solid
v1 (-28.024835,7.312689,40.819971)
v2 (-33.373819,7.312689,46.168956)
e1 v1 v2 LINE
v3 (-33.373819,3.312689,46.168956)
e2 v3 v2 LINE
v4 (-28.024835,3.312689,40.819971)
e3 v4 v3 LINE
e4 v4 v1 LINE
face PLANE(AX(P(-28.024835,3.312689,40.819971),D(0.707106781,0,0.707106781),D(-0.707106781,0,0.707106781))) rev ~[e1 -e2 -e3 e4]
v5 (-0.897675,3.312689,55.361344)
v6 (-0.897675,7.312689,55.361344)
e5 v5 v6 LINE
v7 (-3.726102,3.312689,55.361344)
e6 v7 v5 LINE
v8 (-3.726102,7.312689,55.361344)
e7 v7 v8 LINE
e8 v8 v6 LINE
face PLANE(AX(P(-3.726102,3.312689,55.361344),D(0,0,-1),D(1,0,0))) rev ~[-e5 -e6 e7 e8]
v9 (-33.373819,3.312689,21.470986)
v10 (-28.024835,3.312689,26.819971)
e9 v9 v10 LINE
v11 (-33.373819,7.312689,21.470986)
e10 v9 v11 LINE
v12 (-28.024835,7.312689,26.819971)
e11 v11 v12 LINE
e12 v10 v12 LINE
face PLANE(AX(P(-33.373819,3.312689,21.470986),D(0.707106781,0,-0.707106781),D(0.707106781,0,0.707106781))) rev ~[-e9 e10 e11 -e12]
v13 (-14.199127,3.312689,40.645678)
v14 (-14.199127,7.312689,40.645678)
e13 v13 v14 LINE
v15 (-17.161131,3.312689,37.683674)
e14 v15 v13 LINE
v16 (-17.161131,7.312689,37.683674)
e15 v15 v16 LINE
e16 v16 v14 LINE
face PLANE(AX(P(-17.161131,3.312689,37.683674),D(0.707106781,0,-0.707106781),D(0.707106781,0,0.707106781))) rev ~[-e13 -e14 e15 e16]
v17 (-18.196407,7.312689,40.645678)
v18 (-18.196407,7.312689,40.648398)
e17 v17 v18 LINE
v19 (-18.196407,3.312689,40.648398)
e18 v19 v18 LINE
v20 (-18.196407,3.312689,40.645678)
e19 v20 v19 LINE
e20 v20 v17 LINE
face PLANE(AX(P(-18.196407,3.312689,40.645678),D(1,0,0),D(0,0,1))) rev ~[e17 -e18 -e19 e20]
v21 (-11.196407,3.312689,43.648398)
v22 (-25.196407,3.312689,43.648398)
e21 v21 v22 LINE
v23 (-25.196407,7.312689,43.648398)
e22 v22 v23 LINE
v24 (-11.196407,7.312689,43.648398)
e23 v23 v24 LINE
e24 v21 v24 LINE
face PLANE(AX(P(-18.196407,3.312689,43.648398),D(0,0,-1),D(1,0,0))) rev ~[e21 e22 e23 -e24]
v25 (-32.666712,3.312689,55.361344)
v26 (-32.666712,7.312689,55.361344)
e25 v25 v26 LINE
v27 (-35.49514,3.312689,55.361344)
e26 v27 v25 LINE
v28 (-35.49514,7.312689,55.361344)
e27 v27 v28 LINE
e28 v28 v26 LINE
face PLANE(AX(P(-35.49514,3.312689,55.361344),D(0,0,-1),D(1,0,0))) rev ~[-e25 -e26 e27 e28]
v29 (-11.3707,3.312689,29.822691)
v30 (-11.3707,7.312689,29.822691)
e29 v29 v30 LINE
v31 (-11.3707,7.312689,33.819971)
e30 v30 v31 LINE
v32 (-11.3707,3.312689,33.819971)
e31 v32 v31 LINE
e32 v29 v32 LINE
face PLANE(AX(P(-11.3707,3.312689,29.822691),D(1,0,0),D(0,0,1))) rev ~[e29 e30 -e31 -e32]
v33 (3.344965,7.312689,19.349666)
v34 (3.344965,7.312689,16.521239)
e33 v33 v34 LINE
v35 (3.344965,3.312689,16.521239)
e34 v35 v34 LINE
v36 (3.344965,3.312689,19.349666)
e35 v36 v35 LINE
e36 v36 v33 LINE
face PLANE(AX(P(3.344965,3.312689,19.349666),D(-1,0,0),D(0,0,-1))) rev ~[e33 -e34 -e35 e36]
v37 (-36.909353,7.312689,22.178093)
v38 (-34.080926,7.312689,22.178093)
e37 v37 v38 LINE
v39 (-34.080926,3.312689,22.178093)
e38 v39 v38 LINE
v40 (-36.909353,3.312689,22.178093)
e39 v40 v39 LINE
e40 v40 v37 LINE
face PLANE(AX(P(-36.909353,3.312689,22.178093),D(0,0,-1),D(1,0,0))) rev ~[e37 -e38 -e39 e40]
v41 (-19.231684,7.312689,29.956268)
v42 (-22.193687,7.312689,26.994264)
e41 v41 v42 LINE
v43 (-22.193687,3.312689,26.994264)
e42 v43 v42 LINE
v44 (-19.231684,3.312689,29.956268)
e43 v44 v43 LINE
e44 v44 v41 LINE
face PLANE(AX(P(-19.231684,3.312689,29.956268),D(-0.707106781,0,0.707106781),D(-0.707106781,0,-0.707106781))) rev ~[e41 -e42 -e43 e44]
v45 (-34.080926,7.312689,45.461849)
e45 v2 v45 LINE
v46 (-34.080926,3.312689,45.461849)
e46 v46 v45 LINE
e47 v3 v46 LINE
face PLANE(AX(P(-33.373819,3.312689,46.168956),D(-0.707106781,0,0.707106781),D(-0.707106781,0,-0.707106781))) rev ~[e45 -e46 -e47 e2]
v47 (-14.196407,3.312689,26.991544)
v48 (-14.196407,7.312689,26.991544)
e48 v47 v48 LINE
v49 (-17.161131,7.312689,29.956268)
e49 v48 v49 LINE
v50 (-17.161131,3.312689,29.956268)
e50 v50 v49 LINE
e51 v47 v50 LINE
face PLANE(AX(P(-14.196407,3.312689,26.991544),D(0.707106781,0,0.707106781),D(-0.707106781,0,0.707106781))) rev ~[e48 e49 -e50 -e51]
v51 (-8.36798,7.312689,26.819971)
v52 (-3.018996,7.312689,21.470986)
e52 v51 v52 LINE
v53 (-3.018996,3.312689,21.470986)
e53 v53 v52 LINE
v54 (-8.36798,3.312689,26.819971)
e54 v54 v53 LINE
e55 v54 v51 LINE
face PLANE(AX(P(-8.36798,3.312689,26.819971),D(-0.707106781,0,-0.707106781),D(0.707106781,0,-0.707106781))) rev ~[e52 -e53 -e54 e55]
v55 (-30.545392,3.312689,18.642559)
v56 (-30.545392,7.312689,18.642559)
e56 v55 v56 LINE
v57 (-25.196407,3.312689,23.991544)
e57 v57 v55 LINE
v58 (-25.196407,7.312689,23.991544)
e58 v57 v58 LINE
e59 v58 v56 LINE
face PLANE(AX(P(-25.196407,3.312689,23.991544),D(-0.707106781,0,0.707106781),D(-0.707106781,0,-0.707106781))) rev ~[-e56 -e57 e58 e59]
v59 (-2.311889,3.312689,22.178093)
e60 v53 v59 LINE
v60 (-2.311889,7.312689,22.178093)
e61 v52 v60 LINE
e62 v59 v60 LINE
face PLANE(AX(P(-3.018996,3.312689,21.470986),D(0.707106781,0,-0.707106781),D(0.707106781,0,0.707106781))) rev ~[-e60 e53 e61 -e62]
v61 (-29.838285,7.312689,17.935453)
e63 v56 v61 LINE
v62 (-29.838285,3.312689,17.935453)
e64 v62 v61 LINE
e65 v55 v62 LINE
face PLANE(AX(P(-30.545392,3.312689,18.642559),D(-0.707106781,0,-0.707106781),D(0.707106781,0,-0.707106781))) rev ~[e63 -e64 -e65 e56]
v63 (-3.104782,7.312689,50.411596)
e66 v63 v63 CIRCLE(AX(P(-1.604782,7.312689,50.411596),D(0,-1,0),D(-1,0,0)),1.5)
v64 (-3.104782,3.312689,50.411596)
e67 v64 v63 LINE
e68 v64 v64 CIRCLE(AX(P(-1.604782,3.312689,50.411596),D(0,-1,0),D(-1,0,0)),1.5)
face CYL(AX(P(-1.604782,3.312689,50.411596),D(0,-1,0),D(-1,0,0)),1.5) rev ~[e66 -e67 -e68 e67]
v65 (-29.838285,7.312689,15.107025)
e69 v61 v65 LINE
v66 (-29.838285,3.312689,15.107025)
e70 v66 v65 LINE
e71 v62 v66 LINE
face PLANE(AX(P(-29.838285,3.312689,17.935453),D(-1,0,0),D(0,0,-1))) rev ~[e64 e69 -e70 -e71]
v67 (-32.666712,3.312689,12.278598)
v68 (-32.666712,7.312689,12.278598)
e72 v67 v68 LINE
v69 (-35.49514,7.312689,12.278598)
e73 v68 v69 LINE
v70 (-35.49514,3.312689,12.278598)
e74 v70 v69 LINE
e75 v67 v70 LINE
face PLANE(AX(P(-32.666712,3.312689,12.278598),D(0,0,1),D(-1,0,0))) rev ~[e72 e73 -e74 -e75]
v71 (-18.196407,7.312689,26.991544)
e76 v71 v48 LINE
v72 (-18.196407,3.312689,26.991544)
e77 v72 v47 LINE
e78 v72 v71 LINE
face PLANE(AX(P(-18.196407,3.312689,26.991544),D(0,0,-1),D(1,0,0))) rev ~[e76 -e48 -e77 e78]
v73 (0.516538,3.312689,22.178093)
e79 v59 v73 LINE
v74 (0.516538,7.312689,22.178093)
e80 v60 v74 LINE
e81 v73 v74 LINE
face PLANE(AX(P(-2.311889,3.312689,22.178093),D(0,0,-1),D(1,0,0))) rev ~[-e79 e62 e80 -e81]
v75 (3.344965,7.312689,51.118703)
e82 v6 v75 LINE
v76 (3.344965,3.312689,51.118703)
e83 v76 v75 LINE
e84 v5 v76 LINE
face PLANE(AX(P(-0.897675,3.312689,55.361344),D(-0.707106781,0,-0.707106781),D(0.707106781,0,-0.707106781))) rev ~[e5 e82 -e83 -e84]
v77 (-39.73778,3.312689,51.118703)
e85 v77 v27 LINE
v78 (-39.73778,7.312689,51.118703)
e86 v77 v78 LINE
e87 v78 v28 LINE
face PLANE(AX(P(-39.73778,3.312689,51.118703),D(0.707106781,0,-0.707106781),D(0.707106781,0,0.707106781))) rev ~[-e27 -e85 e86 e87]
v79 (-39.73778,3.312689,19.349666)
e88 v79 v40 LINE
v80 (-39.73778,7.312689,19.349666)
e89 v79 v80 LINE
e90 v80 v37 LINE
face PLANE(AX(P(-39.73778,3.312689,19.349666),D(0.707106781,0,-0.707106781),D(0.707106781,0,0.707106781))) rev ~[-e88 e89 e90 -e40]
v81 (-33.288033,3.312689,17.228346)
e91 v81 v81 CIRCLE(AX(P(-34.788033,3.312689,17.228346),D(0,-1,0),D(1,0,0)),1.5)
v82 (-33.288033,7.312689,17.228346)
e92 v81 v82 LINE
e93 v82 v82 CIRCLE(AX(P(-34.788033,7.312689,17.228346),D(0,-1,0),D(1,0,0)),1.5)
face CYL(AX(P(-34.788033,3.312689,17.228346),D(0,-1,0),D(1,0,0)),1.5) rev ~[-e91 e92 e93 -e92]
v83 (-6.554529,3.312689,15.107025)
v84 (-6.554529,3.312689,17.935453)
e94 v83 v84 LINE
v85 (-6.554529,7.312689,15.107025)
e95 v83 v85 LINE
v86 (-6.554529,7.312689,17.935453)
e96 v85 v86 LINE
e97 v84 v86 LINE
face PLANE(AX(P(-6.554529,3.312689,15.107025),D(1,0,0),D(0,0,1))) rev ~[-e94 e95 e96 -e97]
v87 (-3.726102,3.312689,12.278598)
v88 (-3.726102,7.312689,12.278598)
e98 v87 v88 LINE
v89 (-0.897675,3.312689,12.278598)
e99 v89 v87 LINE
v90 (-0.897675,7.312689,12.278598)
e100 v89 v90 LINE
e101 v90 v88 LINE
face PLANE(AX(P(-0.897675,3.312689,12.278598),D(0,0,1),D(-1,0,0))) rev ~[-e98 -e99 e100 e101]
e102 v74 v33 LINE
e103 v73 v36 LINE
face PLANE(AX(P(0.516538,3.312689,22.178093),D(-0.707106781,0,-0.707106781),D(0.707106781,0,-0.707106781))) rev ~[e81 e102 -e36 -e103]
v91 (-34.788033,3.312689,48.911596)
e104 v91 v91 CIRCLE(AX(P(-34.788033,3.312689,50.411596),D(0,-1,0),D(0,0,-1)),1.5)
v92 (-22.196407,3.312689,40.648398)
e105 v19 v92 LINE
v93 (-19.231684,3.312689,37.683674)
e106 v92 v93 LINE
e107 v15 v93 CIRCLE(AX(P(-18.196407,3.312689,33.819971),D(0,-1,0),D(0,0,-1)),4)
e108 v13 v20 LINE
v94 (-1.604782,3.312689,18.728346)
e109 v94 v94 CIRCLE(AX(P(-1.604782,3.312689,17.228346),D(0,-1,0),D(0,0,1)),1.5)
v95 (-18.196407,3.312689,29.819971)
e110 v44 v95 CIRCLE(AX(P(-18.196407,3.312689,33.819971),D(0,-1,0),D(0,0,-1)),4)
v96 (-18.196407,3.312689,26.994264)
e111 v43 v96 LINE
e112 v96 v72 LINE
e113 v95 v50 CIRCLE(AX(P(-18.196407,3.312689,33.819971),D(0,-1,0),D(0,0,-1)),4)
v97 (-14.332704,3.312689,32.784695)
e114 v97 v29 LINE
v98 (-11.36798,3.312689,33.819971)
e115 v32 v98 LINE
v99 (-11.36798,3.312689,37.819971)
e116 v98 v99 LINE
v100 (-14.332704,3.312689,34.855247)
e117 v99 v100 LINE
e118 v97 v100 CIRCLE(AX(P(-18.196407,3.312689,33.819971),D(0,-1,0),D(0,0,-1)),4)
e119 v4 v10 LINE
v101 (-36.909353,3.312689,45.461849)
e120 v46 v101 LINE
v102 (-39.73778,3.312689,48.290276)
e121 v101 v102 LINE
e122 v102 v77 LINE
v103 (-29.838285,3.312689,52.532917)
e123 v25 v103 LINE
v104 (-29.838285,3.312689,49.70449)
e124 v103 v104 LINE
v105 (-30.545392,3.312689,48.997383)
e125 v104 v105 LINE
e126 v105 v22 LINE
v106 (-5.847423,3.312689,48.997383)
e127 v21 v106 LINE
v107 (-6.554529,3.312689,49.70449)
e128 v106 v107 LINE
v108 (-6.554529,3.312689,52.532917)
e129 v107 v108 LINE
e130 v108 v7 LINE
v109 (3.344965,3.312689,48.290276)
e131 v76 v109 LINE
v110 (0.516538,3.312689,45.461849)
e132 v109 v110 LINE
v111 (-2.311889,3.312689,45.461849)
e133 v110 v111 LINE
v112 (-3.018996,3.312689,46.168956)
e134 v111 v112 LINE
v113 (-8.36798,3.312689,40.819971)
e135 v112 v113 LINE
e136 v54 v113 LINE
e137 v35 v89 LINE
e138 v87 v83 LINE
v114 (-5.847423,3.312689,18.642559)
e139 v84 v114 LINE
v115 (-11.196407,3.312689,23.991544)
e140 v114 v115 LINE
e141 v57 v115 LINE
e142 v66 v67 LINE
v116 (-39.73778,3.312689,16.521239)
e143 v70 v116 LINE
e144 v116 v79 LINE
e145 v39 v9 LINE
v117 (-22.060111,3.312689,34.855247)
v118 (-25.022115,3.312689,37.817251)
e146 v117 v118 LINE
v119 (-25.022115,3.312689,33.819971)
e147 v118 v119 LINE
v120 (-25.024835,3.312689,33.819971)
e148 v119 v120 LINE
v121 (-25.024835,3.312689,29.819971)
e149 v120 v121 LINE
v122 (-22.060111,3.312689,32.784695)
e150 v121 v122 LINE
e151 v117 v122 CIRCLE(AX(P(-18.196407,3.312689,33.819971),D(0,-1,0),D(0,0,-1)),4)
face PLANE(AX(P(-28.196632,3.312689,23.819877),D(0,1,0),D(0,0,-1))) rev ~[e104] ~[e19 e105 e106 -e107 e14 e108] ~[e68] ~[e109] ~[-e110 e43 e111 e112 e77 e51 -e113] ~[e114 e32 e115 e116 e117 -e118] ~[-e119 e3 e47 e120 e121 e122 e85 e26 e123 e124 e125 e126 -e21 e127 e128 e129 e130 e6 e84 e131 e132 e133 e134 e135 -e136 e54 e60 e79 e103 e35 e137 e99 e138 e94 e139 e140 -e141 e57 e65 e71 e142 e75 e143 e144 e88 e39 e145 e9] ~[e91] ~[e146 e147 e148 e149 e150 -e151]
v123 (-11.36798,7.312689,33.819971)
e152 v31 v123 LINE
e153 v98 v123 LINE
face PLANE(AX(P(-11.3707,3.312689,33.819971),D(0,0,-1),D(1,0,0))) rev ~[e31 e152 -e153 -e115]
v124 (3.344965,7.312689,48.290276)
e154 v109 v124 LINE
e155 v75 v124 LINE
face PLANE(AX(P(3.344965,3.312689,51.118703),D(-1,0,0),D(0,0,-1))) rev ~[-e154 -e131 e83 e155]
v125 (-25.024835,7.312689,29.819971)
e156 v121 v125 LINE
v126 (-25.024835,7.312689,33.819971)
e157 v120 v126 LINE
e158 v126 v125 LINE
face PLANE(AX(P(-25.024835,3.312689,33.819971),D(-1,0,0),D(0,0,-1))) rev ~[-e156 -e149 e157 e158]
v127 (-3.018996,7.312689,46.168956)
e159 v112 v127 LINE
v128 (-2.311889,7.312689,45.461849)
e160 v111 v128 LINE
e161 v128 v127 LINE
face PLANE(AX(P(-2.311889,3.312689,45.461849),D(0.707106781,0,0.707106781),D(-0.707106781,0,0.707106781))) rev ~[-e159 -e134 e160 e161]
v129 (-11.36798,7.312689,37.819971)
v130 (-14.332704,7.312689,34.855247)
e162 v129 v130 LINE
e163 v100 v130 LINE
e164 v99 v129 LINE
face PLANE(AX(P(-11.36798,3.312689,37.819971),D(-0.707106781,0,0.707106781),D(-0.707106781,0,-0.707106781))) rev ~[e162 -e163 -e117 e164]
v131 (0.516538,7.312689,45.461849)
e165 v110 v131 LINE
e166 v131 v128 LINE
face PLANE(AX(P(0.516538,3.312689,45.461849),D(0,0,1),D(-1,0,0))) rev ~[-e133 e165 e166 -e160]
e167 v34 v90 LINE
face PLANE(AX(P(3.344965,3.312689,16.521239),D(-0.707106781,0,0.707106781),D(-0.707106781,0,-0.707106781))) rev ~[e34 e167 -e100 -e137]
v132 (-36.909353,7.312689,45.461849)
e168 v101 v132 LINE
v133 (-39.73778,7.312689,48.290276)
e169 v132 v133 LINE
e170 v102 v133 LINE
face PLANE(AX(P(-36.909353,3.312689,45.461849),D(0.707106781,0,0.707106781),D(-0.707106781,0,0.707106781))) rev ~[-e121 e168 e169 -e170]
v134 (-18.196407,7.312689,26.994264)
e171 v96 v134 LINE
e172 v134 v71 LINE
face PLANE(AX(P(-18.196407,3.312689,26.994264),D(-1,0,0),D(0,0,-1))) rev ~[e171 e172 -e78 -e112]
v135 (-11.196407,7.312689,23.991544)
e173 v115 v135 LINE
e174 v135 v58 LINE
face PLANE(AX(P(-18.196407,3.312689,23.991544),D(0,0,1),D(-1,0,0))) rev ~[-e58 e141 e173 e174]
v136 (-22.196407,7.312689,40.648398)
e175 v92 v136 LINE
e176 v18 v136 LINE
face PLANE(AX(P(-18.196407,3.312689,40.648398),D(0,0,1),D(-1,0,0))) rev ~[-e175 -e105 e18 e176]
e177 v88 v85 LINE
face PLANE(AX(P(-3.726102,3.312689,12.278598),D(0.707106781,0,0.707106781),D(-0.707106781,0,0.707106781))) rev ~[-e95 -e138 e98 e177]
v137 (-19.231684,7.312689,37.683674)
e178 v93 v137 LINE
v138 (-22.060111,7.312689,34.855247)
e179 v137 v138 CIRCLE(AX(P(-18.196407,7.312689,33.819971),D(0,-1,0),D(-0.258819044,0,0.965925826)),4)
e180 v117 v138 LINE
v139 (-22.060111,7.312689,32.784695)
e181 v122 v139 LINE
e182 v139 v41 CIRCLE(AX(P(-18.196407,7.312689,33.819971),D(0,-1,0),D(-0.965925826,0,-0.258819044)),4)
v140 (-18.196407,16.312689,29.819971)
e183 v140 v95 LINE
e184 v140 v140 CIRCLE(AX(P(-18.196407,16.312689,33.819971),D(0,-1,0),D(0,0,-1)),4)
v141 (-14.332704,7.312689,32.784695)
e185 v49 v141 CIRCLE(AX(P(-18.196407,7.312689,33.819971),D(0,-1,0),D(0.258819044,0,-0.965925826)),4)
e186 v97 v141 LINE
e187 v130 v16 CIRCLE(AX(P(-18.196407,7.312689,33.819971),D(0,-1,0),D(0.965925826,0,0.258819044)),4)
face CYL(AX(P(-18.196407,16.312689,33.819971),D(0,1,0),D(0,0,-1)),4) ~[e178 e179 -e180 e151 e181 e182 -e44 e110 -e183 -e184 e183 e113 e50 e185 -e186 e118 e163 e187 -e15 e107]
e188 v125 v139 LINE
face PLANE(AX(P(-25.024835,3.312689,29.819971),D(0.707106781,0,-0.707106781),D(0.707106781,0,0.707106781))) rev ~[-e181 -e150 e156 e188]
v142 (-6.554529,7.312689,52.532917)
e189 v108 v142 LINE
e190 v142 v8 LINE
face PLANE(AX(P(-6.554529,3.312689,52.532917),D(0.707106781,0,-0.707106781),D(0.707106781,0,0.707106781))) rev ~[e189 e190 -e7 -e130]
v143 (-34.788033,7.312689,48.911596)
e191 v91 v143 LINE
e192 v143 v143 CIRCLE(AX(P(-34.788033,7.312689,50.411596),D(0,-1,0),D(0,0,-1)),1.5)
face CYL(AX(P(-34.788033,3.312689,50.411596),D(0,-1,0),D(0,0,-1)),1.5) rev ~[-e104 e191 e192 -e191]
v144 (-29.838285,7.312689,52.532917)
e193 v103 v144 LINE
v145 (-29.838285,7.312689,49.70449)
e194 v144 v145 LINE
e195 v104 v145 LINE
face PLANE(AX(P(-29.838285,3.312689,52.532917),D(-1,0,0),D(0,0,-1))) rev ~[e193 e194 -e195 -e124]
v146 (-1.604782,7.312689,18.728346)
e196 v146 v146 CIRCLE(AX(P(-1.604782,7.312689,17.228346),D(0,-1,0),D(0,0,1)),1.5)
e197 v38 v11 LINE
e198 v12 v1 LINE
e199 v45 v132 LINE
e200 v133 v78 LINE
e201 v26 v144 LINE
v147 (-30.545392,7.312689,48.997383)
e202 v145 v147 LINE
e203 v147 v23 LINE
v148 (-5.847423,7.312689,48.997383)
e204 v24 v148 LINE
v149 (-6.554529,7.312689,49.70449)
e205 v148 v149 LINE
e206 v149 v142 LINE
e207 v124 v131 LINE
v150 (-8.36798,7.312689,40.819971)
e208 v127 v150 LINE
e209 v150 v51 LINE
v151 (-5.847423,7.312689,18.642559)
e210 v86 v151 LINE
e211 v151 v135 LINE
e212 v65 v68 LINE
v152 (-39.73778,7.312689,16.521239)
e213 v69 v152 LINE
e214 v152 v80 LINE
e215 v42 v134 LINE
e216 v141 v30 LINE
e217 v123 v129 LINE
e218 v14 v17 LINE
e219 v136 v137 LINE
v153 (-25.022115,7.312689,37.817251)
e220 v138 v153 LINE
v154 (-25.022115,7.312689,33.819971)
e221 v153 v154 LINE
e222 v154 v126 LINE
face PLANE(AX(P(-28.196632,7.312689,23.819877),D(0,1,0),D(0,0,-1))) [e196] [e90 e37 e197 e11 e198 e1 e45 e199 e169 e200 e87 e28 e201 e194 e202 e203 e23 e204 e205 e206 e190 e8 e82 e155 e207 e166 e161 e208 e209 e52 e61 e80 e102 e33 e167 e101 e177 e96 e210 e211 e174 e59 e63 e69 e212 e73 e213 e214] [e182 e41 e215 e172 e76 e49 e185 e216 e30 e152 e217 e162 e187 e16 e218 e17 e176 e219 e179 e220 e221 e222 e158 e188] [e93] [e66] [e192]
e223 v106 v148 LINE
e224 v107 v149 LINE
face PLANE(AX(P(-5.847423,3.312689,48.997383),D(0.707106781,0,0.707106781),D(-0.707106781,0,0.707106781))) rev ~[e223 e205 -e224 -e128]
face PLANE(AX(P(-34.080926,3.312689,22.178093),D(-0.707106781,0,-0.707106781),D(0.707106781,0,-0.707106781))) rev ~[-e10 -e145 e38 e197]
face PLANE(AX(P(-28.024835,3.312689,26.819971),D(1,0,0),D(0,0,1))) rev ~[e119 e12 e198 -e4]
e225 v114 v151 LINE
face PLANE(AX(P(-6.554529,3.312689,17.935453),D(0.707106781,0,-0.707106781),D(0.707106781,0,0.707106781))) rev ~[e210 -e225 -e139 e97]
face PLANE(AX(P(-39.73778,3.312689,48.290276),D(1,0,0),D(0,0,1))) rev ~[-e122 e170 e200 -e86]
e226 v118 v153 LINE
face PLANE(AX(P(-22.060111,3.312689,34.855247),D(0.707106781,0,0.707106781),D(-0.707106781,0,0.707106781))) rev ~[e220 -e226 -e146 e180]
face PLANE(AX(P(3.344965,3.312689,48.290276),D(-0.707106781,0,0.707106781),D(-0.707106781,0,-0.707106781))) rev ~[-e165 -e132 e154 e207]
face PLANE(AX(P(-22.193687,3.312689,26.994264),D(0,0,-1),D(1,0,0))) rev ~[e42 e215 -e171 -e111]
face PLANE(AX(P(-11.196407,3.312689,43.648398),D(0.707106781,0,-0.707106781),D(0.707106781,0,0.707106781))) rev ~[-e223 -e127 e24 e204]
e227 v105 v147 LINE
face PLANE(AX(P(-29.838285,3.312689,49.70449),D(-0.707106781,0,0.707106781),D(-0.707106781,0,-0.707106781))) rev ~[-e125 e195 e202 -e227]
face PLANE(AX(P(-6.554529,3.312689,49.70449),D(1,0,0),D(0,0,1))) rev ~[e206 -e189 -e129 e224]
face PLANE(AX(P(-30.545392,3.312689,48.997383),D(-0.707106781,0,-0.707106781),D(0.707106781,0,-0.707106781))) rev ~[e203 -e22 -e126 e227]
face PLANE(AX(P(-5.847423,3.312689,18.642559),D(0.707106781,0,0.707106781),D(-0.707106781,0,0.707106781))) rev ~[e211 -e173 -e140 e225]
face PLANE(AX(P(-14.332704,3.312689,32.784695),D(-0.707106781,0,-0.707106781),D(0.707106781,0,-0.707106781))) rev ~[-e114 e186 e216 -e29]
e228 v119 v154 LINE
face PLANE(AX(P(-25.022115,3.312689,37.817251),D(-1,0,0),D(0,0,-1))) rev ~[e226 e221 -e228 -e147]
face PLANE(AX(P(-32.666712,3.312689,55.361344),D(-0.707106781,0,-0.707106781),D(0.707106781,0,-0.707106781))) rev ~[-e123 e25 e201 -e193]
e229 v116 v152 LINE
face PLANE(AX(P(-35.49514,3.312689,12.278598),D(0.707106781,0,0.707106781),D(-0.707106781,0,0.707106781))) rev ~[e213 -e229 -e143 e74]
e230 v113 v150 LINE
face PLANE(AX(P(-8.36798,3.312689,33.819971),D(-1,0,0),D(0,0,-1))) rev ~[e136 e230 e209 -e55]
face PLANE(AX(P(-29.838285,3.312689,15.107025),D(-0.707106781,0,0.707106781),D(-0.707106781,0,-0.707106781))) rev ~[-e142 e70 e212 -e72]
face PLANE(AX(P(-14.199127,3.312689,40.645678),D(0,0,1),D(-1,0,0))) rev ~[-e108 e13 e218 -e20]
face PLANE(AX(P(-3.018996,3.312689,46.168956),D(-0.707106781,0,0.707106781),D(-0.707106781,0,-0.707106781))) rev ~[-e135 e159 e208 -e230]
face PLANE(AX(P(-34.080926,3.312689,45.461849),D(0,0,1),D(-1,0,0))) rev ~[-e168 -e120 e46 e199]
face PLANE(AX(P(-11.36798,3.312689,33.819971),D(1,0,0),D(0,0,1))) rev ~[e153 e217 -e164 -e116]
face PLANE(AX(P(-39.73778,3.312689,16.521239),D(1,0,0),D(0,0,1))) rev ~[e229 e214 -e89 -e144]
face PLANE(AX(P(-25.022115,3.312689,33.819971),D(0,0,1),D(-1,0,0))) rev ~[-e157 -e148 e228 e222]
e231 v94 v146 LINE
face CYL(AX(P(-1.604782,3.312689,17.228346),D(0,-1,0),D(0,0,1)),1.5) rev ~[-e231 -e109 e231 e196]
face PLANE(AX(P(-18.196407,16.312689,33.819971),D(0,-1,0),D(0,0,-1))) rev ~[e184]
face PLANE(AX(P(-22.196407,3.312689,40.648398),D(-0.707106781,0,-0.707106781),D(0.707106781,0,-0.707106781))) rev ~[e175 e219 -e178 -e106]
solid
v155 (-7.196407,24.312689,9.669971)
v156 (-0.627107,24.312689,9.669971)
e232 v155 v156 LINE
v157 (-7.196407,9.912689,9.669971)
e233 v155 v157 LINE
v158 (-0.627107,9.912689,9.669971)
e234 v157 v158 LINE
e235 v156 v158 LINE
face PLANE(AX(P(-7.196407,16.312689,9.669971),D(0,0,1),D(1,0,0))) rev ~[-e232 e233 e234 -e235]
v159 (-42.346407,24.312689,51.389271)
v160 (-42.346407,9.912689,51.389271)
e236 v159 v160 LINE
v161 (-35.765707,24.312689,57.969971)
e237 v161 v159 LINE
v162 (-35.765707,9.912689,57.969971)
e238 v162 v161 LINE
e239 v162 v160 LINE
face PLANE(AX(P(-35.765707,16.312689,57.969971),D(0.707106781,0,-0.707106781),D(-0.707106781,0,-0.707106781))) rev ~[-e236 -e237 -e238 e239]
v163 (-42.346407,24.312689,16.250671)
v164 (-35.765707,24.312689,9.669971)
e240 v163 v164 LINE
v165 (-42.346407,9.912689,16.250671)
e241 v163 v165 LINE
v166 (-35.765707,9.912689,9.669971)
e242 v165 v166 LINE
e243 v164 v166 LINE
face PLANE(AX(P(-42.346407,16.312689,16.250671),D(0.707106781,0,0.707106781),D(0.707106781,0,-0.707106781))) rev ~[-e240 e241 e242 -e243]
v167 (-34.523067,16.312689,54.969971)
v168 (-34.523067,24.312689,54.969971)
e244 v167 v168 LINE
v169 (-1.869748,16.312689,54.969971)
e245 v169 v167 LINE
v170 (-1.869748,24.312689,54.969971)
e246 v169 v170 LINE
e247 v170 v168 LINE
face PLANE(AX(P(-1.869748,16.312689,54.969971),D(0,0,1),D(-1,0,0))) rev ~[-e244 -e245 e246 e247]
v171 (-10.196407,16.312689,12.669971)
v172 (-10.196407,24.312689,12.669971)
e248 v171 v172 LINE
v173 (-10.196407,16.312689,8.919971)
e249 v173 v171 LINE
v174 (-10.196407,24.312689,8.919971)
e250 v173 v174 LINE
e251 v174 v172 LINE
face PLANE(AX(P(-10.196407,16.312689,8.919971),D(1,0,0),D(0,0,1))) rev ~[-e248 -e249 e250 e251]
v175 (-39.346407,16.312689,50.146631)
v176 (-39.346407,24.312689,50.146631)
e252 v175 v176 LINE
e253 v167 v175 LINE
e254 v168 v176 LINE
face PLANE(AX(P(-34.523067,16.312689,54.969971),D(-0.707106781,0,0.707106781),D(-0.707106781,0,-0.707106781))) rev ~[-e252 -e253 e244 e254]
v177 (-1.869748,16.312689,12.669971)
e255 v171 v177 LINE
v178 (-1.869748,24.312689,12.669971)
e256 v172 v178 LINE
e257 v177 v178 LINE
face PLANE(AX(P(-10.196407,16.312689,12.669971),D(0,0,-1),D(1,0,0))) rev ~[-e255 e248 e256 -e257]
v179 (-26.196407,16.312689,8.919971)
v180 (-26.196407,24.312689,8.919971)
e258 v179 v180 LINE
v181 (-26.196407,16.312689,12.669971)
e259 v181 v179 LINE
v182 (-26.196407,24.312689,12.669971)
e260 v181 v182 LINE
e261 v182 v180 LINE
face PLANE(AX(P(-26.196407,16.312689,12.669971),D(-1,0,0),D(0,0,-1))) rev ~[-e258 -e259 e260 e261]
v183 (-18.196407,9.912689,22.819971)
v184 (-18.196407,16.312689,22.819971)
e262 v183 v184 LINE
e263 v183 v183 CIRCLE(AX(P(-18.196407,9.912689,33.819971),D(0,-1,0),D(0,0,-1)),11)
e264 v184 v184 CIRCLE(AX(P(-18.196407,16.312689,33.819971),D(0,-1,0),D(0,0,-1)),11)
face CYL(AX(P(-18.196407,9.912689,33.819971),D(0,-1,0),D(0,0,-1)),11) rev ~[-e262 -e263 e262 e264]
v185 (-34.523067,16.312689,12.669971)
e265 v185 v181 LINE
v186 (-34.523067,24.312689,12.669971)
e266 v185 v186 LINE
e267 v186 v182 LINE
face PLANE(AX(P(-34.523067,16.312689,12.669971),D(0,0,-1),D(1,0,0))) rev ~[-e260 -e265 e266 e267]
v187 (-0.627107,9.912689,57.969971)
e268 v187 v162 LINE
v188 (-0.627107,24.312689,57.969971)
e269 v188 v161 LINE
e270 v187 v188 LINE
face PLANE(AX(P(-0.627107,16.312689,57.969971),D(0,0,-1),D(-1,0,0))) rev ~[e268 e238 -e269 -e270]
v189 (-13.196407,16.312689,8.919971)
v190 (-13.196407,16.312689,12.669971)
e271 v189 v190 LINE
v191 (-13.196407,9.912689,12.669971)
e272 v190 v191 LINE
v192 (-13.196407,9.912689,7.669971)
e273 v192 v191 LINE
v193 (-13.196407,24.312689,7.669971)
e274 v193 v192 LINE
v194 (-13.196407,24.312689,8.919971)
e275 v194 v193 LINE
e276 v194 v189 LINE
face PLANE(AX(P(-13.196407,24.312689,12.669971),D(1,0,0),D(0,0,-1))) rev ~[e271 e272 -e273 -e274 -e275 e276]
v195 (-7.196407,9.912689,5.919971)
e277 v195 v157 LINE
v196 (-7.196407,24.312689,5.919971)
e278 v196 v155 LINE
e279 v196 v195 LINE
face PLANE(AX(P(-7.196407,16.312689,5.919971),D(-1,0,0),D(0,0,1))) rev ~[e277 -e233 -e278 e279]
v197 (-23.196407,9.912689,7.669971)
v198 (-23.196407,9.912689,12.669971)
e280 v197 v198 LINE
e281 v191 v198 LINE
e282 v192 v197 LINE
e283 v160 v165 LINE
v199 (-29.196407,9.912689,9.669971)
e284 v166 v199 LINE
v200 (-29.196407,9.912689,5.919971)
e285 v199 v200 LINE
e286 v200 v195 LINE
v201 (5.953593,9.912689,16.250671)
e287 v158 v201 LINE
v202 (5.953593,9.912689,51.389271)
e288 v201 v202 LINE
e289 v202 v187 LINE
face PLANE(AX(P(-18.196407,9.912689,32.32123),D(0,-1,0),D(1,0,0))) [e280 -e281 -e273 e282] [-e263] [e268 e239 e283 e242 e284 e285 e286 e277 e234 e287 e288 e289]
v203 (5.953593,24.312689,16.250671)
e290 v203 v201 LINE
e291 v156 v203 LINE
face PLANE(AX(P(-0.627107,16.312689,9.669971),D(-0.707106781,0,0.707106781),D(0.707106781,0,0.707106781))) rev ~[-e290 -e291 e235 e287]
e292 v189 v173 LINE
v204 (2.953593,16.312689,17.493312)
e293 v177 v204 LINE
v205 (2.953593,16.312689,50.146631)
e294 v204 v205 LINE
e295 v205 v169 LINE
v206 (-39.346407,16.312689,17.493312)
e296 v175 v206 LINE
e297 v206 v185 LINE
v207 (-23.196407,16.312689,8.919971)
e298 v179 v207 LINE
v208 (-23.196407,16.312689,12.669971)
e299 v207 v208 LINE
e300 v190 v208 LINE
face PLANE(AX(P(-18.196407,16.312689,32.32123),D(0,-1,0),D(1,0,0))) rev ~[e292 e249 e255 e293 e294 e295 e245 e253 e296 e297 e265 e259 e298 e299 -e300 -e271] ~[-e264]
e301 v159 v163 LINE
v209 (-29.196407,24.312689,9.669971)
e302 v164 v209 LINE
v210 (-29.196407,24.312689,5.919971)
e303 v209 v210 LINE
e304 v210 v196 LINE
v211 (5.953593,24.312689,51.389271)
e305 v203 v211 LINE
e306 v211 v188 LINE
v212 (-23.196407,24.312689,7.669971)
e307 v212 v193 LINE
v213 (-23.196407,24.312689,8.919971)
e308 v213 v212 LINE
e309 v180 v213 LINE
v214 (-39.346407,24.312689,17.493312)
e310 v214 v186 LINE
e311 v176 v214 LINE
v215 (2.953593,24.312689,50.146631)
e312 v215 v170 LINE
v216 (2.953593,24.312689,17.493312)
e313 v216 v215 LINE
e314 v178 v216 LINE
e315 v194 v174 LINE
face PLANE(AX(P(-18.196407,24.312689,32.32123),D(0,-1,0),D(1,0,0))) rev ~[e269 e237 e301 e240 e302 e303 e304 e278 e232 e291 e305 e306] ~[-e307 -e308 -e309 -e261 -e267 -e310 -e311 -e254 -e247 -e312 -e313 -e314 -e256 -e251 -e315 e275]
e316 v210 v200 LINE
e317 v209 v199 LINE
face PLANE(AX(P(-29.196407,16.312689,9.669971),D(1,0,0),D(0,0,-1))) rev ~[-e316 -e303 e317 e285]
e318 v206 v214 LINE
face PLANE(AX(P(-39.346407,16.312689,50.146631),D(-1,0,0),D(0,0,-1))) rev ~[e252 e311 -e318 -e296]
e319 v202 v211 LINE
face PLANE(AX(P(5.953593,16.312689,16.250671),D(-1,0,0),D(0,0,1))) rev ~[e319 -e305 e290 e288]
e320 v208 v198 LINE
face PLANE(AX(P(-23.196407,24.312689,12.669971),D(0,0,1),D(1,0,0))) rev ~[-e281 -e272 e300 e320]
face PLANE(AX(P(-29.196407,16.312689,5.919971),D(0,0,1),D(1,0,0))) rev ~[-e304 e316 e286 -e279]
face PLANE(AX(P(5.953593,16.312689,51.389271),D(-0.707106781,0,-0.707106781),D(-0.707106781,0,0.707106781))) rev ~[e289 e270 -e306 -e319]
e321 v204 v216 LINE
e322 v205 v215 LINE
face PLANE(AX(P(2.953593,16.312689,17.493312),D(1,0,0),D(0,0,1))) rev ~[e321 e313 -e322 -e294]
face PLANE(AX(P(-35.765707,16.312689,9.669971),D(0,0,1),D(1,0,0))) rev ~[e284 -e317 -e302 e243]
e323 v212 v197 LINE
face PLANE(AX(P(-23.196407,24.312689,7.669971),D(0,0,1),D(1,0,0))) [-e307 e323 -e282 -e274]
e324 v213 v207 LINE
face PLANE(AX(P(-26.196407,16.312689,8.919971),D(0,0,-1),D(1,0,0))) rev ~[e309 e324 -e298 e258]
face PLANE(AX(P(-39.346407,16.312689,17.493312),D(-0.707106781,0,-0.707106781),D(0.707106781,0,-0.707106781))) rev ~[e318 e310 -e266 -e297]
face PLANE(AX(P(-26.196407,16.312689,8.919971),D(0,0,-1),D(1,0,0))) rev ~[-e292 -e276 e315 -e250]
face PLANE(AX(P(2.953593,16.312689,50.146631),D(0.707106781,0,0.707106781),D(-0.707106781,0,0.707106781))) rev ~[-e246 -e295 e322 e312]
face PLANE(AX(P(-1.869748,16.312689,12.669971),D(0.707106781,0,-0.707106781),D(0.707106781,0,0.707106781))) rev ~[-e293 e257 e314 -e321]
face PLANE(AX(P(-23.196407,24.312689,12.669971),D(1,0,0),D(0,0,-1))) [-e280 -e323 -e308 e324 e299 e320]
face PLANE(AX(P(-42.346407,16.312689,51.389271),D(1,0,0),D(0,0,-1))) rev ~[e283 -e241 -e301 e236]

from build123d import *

# Parameters (mm, degrees)
BOSS_EXTRUDE1_DEPTH = 8
BOSS_EXTRUDE2_DEPTH = 6.4
SKETCH4_R           = 11
CUT_EXTRUDE1_DEPTH  = 13
SKETCH5_R           = 4
BOSS_EXTRUDE3_DEPTH = 13
SKETCH6_R           = 1.5
BOSS_EXTRUDE4_DEPTH = 4
CIRPATTERN2_COUNT   = 4
SKETCH8_W           = 10
SKETCH8_H           = 5
CUT_EXTRUDE2_DEPTH  = 19


with BuildPart() as part:
    # Sketch1 → Boss-Extrude1 (new body)
    with BuildSketch(Plane.XZ.offset(-16.312689454)):
        Polygon((-42.346407377, 51.389271206), (-42.346407377, 16.250671026), (-35.765707467, 9.669971116), (-29.196407377, 9.669971116), (-29.196407377, 5.919971116), (-7.196407377, 5.919971116), (-7.196407377, 9.669971116), (-0.627107287, 9.669971116), (5.953592623, 16.250671026), (5.953592623, 51.389271206), (-0.627107287, 57.969971116), (-35.765707467, 57.969971116), align=None)
        Polygon((-10.196407377, 12.669971116), (-1.869747974, 12.669971116), (2.953592623, 17.493311713), (2.953592623, 50.146630519), (-1.869747974, 54.969971116), (-34.52306678, 54.969971116), (-39.346407377, 50.146630519), (-39.346407377, 17.493311713), (-34.52306678, 12.669971116), (-26.196407377, 12.669971116), (-26.196407377, 8.919971116), (-10.196407377, 8.919971116), align=None, mode=Mode.SUBTRACT)
    extrude(amount=-BOSS_EXTRUDE1_DEPTH)

    # Sketch3 → Boss-Extrude2 (add)
    with BuildSketch(Plane.XZ.offset(-16.312689454)):
        Polygon((-35.765707467, 57.969971116), (-42.346407377, 51.389271206), (-42.346407377, 16.250671026), (-35.765707467, 9.669971116), (-29.196407377, 9.669971116), (-29.196407377, 5.919971116), (-7.196407377, 5.919971116), (-7.196407377, 9.669971116), (-0.627107287, 9.669971116), (5.953592623, 16.250671026), (5.953592623, 51.389271206), (-0.627107287, 57.969971116), align=None)
    extrude(amount=BOSS_EXTRUDE2_DEPTH)

    # Sketch4 → Cut-Extrude1 (cut)
    with BuildSketch(Plane.XZ.offset(-9.912689454)):
        with Locations(Location((-18.196407377, 33.819971116, 0), (0, 0, 270))):
            Circle(SKETCH4_R)
    extrude(amount=-CUT_EXTRUDE1_DEPTH, mode=Mode.SUBTRACT)

    # Sketch8 → Cut-Extrude2 (cut)
    with BuildSketch(Plane(origin=(0, 24.312689454, 0), x_dir=(1, 0, 0), z_dir=(0, 1, 0))):
        with Locations((-18.196407377, -10.169971116)):
            Rectangle(SKETCH8_W, SKETCH8_H)
    extrude(amount=-CUT_EXTRUDE2_DEPTH, mode=Mode.SUBTRACT)


with BuildPart() as body_2:
    # Sketch5 → Boss-Extrude3 (new body)
    with BuildSketch(Plane.XZ.offset(-16.312689454)):
        with Locations(Location((-18.196407377, 33.819971116, 0), (0, 0, 270))):
            Circle(SKETCH5_R)
    extrude(amount=BOSS_EXTRUDE3_DEPTH)

    # Sketch6 → Boss-Extrude4 (add)
    with BuildSketch(Plane.XZ.offset(-3.312689454)):
        with BuildLine():
            Line((-22.060110682, 34.855247296), (-25.022114558, 37.817251172))
            Line((-25.022114558, 37.817251172), (-25.022114558, 33.819971116))
            Line((-25.022114558, 33.819971116), (-28.024834502, 33.819971116))
            Line((-28.024834502, 33.819971116), (-28.024834502, 40.819971116))
            Line((-28.024834502, 40.819971116), (-33.373819181, 46.168955795))
            Line((-33.373819181, 46.168955795), (-34.080925962, 45.461849014))
            Line((-34.080925962, 45.461849014), (-36.909353087, 45.461849014))
            Line((-36.909353087, 45.461849014), (-39.737780212, 48.290276139))
            Line((-39.737780212, 48.290276139), (-39.737780212, 51.118703264))
            Line((-39.737780212, 51.118703264), (-35.495139525, 55.361343951))
            Line((-35.495139525, 55.361343951), (-32.6667124, 55.361343951))
            Line((-32.6667124, 55.361343951), (-29.838285275, 52.532916826))
            Line((-29.838285275, 52.532916826), (-29.838285275, 49.704489701))
            Line((-29.838285275, 49.704489701), (-30.545392056, 48.99738292))
            Line((-30.545392056, 48.99738292), (-25.196407377, 43.648398241))
            Line((-25.196407377, 43.648398241), (-18.196407377, 43.648398241))
            Line((-18.196407377, 43.648398241), (-18.196407377, 40.648398241))
            Line((-18.196407377, 40.648398241), (-22.196407377, 40.648398241))
            Line((-22.196407377, 40.648398241), (-19.231683557, 37.683674421))
            ThreePointArc((-19.231683557, 37.683674421), (-21.024834502, 36.648398241), (-22.060110682, 34.855247296))
        make_face()
        with Locations(Location((-34.788032743, 50.411596482, 0), (0, 0, 270))):
            Circle(SKETCH6_R, mode=Mode.SUBTRACT)
    boss_extrude4 = extrude(amount=-BOSS_EXTRUDE4_DEPTH)

    # CirPattern2: Boss-Extrude4 ×4 about axis
    cirpattern2_axis = Axis((-18.196407377, 0, 33.819971116), (0, 1, 0))
    for i in range(1, CIRPATTERN2_COUNT):
        add(boss_extrude4.rotate(cirpattern2_axis, i * 360 / CIRPATTERN2_COUNT))


solid = Compound([part.part, body_2.part])
